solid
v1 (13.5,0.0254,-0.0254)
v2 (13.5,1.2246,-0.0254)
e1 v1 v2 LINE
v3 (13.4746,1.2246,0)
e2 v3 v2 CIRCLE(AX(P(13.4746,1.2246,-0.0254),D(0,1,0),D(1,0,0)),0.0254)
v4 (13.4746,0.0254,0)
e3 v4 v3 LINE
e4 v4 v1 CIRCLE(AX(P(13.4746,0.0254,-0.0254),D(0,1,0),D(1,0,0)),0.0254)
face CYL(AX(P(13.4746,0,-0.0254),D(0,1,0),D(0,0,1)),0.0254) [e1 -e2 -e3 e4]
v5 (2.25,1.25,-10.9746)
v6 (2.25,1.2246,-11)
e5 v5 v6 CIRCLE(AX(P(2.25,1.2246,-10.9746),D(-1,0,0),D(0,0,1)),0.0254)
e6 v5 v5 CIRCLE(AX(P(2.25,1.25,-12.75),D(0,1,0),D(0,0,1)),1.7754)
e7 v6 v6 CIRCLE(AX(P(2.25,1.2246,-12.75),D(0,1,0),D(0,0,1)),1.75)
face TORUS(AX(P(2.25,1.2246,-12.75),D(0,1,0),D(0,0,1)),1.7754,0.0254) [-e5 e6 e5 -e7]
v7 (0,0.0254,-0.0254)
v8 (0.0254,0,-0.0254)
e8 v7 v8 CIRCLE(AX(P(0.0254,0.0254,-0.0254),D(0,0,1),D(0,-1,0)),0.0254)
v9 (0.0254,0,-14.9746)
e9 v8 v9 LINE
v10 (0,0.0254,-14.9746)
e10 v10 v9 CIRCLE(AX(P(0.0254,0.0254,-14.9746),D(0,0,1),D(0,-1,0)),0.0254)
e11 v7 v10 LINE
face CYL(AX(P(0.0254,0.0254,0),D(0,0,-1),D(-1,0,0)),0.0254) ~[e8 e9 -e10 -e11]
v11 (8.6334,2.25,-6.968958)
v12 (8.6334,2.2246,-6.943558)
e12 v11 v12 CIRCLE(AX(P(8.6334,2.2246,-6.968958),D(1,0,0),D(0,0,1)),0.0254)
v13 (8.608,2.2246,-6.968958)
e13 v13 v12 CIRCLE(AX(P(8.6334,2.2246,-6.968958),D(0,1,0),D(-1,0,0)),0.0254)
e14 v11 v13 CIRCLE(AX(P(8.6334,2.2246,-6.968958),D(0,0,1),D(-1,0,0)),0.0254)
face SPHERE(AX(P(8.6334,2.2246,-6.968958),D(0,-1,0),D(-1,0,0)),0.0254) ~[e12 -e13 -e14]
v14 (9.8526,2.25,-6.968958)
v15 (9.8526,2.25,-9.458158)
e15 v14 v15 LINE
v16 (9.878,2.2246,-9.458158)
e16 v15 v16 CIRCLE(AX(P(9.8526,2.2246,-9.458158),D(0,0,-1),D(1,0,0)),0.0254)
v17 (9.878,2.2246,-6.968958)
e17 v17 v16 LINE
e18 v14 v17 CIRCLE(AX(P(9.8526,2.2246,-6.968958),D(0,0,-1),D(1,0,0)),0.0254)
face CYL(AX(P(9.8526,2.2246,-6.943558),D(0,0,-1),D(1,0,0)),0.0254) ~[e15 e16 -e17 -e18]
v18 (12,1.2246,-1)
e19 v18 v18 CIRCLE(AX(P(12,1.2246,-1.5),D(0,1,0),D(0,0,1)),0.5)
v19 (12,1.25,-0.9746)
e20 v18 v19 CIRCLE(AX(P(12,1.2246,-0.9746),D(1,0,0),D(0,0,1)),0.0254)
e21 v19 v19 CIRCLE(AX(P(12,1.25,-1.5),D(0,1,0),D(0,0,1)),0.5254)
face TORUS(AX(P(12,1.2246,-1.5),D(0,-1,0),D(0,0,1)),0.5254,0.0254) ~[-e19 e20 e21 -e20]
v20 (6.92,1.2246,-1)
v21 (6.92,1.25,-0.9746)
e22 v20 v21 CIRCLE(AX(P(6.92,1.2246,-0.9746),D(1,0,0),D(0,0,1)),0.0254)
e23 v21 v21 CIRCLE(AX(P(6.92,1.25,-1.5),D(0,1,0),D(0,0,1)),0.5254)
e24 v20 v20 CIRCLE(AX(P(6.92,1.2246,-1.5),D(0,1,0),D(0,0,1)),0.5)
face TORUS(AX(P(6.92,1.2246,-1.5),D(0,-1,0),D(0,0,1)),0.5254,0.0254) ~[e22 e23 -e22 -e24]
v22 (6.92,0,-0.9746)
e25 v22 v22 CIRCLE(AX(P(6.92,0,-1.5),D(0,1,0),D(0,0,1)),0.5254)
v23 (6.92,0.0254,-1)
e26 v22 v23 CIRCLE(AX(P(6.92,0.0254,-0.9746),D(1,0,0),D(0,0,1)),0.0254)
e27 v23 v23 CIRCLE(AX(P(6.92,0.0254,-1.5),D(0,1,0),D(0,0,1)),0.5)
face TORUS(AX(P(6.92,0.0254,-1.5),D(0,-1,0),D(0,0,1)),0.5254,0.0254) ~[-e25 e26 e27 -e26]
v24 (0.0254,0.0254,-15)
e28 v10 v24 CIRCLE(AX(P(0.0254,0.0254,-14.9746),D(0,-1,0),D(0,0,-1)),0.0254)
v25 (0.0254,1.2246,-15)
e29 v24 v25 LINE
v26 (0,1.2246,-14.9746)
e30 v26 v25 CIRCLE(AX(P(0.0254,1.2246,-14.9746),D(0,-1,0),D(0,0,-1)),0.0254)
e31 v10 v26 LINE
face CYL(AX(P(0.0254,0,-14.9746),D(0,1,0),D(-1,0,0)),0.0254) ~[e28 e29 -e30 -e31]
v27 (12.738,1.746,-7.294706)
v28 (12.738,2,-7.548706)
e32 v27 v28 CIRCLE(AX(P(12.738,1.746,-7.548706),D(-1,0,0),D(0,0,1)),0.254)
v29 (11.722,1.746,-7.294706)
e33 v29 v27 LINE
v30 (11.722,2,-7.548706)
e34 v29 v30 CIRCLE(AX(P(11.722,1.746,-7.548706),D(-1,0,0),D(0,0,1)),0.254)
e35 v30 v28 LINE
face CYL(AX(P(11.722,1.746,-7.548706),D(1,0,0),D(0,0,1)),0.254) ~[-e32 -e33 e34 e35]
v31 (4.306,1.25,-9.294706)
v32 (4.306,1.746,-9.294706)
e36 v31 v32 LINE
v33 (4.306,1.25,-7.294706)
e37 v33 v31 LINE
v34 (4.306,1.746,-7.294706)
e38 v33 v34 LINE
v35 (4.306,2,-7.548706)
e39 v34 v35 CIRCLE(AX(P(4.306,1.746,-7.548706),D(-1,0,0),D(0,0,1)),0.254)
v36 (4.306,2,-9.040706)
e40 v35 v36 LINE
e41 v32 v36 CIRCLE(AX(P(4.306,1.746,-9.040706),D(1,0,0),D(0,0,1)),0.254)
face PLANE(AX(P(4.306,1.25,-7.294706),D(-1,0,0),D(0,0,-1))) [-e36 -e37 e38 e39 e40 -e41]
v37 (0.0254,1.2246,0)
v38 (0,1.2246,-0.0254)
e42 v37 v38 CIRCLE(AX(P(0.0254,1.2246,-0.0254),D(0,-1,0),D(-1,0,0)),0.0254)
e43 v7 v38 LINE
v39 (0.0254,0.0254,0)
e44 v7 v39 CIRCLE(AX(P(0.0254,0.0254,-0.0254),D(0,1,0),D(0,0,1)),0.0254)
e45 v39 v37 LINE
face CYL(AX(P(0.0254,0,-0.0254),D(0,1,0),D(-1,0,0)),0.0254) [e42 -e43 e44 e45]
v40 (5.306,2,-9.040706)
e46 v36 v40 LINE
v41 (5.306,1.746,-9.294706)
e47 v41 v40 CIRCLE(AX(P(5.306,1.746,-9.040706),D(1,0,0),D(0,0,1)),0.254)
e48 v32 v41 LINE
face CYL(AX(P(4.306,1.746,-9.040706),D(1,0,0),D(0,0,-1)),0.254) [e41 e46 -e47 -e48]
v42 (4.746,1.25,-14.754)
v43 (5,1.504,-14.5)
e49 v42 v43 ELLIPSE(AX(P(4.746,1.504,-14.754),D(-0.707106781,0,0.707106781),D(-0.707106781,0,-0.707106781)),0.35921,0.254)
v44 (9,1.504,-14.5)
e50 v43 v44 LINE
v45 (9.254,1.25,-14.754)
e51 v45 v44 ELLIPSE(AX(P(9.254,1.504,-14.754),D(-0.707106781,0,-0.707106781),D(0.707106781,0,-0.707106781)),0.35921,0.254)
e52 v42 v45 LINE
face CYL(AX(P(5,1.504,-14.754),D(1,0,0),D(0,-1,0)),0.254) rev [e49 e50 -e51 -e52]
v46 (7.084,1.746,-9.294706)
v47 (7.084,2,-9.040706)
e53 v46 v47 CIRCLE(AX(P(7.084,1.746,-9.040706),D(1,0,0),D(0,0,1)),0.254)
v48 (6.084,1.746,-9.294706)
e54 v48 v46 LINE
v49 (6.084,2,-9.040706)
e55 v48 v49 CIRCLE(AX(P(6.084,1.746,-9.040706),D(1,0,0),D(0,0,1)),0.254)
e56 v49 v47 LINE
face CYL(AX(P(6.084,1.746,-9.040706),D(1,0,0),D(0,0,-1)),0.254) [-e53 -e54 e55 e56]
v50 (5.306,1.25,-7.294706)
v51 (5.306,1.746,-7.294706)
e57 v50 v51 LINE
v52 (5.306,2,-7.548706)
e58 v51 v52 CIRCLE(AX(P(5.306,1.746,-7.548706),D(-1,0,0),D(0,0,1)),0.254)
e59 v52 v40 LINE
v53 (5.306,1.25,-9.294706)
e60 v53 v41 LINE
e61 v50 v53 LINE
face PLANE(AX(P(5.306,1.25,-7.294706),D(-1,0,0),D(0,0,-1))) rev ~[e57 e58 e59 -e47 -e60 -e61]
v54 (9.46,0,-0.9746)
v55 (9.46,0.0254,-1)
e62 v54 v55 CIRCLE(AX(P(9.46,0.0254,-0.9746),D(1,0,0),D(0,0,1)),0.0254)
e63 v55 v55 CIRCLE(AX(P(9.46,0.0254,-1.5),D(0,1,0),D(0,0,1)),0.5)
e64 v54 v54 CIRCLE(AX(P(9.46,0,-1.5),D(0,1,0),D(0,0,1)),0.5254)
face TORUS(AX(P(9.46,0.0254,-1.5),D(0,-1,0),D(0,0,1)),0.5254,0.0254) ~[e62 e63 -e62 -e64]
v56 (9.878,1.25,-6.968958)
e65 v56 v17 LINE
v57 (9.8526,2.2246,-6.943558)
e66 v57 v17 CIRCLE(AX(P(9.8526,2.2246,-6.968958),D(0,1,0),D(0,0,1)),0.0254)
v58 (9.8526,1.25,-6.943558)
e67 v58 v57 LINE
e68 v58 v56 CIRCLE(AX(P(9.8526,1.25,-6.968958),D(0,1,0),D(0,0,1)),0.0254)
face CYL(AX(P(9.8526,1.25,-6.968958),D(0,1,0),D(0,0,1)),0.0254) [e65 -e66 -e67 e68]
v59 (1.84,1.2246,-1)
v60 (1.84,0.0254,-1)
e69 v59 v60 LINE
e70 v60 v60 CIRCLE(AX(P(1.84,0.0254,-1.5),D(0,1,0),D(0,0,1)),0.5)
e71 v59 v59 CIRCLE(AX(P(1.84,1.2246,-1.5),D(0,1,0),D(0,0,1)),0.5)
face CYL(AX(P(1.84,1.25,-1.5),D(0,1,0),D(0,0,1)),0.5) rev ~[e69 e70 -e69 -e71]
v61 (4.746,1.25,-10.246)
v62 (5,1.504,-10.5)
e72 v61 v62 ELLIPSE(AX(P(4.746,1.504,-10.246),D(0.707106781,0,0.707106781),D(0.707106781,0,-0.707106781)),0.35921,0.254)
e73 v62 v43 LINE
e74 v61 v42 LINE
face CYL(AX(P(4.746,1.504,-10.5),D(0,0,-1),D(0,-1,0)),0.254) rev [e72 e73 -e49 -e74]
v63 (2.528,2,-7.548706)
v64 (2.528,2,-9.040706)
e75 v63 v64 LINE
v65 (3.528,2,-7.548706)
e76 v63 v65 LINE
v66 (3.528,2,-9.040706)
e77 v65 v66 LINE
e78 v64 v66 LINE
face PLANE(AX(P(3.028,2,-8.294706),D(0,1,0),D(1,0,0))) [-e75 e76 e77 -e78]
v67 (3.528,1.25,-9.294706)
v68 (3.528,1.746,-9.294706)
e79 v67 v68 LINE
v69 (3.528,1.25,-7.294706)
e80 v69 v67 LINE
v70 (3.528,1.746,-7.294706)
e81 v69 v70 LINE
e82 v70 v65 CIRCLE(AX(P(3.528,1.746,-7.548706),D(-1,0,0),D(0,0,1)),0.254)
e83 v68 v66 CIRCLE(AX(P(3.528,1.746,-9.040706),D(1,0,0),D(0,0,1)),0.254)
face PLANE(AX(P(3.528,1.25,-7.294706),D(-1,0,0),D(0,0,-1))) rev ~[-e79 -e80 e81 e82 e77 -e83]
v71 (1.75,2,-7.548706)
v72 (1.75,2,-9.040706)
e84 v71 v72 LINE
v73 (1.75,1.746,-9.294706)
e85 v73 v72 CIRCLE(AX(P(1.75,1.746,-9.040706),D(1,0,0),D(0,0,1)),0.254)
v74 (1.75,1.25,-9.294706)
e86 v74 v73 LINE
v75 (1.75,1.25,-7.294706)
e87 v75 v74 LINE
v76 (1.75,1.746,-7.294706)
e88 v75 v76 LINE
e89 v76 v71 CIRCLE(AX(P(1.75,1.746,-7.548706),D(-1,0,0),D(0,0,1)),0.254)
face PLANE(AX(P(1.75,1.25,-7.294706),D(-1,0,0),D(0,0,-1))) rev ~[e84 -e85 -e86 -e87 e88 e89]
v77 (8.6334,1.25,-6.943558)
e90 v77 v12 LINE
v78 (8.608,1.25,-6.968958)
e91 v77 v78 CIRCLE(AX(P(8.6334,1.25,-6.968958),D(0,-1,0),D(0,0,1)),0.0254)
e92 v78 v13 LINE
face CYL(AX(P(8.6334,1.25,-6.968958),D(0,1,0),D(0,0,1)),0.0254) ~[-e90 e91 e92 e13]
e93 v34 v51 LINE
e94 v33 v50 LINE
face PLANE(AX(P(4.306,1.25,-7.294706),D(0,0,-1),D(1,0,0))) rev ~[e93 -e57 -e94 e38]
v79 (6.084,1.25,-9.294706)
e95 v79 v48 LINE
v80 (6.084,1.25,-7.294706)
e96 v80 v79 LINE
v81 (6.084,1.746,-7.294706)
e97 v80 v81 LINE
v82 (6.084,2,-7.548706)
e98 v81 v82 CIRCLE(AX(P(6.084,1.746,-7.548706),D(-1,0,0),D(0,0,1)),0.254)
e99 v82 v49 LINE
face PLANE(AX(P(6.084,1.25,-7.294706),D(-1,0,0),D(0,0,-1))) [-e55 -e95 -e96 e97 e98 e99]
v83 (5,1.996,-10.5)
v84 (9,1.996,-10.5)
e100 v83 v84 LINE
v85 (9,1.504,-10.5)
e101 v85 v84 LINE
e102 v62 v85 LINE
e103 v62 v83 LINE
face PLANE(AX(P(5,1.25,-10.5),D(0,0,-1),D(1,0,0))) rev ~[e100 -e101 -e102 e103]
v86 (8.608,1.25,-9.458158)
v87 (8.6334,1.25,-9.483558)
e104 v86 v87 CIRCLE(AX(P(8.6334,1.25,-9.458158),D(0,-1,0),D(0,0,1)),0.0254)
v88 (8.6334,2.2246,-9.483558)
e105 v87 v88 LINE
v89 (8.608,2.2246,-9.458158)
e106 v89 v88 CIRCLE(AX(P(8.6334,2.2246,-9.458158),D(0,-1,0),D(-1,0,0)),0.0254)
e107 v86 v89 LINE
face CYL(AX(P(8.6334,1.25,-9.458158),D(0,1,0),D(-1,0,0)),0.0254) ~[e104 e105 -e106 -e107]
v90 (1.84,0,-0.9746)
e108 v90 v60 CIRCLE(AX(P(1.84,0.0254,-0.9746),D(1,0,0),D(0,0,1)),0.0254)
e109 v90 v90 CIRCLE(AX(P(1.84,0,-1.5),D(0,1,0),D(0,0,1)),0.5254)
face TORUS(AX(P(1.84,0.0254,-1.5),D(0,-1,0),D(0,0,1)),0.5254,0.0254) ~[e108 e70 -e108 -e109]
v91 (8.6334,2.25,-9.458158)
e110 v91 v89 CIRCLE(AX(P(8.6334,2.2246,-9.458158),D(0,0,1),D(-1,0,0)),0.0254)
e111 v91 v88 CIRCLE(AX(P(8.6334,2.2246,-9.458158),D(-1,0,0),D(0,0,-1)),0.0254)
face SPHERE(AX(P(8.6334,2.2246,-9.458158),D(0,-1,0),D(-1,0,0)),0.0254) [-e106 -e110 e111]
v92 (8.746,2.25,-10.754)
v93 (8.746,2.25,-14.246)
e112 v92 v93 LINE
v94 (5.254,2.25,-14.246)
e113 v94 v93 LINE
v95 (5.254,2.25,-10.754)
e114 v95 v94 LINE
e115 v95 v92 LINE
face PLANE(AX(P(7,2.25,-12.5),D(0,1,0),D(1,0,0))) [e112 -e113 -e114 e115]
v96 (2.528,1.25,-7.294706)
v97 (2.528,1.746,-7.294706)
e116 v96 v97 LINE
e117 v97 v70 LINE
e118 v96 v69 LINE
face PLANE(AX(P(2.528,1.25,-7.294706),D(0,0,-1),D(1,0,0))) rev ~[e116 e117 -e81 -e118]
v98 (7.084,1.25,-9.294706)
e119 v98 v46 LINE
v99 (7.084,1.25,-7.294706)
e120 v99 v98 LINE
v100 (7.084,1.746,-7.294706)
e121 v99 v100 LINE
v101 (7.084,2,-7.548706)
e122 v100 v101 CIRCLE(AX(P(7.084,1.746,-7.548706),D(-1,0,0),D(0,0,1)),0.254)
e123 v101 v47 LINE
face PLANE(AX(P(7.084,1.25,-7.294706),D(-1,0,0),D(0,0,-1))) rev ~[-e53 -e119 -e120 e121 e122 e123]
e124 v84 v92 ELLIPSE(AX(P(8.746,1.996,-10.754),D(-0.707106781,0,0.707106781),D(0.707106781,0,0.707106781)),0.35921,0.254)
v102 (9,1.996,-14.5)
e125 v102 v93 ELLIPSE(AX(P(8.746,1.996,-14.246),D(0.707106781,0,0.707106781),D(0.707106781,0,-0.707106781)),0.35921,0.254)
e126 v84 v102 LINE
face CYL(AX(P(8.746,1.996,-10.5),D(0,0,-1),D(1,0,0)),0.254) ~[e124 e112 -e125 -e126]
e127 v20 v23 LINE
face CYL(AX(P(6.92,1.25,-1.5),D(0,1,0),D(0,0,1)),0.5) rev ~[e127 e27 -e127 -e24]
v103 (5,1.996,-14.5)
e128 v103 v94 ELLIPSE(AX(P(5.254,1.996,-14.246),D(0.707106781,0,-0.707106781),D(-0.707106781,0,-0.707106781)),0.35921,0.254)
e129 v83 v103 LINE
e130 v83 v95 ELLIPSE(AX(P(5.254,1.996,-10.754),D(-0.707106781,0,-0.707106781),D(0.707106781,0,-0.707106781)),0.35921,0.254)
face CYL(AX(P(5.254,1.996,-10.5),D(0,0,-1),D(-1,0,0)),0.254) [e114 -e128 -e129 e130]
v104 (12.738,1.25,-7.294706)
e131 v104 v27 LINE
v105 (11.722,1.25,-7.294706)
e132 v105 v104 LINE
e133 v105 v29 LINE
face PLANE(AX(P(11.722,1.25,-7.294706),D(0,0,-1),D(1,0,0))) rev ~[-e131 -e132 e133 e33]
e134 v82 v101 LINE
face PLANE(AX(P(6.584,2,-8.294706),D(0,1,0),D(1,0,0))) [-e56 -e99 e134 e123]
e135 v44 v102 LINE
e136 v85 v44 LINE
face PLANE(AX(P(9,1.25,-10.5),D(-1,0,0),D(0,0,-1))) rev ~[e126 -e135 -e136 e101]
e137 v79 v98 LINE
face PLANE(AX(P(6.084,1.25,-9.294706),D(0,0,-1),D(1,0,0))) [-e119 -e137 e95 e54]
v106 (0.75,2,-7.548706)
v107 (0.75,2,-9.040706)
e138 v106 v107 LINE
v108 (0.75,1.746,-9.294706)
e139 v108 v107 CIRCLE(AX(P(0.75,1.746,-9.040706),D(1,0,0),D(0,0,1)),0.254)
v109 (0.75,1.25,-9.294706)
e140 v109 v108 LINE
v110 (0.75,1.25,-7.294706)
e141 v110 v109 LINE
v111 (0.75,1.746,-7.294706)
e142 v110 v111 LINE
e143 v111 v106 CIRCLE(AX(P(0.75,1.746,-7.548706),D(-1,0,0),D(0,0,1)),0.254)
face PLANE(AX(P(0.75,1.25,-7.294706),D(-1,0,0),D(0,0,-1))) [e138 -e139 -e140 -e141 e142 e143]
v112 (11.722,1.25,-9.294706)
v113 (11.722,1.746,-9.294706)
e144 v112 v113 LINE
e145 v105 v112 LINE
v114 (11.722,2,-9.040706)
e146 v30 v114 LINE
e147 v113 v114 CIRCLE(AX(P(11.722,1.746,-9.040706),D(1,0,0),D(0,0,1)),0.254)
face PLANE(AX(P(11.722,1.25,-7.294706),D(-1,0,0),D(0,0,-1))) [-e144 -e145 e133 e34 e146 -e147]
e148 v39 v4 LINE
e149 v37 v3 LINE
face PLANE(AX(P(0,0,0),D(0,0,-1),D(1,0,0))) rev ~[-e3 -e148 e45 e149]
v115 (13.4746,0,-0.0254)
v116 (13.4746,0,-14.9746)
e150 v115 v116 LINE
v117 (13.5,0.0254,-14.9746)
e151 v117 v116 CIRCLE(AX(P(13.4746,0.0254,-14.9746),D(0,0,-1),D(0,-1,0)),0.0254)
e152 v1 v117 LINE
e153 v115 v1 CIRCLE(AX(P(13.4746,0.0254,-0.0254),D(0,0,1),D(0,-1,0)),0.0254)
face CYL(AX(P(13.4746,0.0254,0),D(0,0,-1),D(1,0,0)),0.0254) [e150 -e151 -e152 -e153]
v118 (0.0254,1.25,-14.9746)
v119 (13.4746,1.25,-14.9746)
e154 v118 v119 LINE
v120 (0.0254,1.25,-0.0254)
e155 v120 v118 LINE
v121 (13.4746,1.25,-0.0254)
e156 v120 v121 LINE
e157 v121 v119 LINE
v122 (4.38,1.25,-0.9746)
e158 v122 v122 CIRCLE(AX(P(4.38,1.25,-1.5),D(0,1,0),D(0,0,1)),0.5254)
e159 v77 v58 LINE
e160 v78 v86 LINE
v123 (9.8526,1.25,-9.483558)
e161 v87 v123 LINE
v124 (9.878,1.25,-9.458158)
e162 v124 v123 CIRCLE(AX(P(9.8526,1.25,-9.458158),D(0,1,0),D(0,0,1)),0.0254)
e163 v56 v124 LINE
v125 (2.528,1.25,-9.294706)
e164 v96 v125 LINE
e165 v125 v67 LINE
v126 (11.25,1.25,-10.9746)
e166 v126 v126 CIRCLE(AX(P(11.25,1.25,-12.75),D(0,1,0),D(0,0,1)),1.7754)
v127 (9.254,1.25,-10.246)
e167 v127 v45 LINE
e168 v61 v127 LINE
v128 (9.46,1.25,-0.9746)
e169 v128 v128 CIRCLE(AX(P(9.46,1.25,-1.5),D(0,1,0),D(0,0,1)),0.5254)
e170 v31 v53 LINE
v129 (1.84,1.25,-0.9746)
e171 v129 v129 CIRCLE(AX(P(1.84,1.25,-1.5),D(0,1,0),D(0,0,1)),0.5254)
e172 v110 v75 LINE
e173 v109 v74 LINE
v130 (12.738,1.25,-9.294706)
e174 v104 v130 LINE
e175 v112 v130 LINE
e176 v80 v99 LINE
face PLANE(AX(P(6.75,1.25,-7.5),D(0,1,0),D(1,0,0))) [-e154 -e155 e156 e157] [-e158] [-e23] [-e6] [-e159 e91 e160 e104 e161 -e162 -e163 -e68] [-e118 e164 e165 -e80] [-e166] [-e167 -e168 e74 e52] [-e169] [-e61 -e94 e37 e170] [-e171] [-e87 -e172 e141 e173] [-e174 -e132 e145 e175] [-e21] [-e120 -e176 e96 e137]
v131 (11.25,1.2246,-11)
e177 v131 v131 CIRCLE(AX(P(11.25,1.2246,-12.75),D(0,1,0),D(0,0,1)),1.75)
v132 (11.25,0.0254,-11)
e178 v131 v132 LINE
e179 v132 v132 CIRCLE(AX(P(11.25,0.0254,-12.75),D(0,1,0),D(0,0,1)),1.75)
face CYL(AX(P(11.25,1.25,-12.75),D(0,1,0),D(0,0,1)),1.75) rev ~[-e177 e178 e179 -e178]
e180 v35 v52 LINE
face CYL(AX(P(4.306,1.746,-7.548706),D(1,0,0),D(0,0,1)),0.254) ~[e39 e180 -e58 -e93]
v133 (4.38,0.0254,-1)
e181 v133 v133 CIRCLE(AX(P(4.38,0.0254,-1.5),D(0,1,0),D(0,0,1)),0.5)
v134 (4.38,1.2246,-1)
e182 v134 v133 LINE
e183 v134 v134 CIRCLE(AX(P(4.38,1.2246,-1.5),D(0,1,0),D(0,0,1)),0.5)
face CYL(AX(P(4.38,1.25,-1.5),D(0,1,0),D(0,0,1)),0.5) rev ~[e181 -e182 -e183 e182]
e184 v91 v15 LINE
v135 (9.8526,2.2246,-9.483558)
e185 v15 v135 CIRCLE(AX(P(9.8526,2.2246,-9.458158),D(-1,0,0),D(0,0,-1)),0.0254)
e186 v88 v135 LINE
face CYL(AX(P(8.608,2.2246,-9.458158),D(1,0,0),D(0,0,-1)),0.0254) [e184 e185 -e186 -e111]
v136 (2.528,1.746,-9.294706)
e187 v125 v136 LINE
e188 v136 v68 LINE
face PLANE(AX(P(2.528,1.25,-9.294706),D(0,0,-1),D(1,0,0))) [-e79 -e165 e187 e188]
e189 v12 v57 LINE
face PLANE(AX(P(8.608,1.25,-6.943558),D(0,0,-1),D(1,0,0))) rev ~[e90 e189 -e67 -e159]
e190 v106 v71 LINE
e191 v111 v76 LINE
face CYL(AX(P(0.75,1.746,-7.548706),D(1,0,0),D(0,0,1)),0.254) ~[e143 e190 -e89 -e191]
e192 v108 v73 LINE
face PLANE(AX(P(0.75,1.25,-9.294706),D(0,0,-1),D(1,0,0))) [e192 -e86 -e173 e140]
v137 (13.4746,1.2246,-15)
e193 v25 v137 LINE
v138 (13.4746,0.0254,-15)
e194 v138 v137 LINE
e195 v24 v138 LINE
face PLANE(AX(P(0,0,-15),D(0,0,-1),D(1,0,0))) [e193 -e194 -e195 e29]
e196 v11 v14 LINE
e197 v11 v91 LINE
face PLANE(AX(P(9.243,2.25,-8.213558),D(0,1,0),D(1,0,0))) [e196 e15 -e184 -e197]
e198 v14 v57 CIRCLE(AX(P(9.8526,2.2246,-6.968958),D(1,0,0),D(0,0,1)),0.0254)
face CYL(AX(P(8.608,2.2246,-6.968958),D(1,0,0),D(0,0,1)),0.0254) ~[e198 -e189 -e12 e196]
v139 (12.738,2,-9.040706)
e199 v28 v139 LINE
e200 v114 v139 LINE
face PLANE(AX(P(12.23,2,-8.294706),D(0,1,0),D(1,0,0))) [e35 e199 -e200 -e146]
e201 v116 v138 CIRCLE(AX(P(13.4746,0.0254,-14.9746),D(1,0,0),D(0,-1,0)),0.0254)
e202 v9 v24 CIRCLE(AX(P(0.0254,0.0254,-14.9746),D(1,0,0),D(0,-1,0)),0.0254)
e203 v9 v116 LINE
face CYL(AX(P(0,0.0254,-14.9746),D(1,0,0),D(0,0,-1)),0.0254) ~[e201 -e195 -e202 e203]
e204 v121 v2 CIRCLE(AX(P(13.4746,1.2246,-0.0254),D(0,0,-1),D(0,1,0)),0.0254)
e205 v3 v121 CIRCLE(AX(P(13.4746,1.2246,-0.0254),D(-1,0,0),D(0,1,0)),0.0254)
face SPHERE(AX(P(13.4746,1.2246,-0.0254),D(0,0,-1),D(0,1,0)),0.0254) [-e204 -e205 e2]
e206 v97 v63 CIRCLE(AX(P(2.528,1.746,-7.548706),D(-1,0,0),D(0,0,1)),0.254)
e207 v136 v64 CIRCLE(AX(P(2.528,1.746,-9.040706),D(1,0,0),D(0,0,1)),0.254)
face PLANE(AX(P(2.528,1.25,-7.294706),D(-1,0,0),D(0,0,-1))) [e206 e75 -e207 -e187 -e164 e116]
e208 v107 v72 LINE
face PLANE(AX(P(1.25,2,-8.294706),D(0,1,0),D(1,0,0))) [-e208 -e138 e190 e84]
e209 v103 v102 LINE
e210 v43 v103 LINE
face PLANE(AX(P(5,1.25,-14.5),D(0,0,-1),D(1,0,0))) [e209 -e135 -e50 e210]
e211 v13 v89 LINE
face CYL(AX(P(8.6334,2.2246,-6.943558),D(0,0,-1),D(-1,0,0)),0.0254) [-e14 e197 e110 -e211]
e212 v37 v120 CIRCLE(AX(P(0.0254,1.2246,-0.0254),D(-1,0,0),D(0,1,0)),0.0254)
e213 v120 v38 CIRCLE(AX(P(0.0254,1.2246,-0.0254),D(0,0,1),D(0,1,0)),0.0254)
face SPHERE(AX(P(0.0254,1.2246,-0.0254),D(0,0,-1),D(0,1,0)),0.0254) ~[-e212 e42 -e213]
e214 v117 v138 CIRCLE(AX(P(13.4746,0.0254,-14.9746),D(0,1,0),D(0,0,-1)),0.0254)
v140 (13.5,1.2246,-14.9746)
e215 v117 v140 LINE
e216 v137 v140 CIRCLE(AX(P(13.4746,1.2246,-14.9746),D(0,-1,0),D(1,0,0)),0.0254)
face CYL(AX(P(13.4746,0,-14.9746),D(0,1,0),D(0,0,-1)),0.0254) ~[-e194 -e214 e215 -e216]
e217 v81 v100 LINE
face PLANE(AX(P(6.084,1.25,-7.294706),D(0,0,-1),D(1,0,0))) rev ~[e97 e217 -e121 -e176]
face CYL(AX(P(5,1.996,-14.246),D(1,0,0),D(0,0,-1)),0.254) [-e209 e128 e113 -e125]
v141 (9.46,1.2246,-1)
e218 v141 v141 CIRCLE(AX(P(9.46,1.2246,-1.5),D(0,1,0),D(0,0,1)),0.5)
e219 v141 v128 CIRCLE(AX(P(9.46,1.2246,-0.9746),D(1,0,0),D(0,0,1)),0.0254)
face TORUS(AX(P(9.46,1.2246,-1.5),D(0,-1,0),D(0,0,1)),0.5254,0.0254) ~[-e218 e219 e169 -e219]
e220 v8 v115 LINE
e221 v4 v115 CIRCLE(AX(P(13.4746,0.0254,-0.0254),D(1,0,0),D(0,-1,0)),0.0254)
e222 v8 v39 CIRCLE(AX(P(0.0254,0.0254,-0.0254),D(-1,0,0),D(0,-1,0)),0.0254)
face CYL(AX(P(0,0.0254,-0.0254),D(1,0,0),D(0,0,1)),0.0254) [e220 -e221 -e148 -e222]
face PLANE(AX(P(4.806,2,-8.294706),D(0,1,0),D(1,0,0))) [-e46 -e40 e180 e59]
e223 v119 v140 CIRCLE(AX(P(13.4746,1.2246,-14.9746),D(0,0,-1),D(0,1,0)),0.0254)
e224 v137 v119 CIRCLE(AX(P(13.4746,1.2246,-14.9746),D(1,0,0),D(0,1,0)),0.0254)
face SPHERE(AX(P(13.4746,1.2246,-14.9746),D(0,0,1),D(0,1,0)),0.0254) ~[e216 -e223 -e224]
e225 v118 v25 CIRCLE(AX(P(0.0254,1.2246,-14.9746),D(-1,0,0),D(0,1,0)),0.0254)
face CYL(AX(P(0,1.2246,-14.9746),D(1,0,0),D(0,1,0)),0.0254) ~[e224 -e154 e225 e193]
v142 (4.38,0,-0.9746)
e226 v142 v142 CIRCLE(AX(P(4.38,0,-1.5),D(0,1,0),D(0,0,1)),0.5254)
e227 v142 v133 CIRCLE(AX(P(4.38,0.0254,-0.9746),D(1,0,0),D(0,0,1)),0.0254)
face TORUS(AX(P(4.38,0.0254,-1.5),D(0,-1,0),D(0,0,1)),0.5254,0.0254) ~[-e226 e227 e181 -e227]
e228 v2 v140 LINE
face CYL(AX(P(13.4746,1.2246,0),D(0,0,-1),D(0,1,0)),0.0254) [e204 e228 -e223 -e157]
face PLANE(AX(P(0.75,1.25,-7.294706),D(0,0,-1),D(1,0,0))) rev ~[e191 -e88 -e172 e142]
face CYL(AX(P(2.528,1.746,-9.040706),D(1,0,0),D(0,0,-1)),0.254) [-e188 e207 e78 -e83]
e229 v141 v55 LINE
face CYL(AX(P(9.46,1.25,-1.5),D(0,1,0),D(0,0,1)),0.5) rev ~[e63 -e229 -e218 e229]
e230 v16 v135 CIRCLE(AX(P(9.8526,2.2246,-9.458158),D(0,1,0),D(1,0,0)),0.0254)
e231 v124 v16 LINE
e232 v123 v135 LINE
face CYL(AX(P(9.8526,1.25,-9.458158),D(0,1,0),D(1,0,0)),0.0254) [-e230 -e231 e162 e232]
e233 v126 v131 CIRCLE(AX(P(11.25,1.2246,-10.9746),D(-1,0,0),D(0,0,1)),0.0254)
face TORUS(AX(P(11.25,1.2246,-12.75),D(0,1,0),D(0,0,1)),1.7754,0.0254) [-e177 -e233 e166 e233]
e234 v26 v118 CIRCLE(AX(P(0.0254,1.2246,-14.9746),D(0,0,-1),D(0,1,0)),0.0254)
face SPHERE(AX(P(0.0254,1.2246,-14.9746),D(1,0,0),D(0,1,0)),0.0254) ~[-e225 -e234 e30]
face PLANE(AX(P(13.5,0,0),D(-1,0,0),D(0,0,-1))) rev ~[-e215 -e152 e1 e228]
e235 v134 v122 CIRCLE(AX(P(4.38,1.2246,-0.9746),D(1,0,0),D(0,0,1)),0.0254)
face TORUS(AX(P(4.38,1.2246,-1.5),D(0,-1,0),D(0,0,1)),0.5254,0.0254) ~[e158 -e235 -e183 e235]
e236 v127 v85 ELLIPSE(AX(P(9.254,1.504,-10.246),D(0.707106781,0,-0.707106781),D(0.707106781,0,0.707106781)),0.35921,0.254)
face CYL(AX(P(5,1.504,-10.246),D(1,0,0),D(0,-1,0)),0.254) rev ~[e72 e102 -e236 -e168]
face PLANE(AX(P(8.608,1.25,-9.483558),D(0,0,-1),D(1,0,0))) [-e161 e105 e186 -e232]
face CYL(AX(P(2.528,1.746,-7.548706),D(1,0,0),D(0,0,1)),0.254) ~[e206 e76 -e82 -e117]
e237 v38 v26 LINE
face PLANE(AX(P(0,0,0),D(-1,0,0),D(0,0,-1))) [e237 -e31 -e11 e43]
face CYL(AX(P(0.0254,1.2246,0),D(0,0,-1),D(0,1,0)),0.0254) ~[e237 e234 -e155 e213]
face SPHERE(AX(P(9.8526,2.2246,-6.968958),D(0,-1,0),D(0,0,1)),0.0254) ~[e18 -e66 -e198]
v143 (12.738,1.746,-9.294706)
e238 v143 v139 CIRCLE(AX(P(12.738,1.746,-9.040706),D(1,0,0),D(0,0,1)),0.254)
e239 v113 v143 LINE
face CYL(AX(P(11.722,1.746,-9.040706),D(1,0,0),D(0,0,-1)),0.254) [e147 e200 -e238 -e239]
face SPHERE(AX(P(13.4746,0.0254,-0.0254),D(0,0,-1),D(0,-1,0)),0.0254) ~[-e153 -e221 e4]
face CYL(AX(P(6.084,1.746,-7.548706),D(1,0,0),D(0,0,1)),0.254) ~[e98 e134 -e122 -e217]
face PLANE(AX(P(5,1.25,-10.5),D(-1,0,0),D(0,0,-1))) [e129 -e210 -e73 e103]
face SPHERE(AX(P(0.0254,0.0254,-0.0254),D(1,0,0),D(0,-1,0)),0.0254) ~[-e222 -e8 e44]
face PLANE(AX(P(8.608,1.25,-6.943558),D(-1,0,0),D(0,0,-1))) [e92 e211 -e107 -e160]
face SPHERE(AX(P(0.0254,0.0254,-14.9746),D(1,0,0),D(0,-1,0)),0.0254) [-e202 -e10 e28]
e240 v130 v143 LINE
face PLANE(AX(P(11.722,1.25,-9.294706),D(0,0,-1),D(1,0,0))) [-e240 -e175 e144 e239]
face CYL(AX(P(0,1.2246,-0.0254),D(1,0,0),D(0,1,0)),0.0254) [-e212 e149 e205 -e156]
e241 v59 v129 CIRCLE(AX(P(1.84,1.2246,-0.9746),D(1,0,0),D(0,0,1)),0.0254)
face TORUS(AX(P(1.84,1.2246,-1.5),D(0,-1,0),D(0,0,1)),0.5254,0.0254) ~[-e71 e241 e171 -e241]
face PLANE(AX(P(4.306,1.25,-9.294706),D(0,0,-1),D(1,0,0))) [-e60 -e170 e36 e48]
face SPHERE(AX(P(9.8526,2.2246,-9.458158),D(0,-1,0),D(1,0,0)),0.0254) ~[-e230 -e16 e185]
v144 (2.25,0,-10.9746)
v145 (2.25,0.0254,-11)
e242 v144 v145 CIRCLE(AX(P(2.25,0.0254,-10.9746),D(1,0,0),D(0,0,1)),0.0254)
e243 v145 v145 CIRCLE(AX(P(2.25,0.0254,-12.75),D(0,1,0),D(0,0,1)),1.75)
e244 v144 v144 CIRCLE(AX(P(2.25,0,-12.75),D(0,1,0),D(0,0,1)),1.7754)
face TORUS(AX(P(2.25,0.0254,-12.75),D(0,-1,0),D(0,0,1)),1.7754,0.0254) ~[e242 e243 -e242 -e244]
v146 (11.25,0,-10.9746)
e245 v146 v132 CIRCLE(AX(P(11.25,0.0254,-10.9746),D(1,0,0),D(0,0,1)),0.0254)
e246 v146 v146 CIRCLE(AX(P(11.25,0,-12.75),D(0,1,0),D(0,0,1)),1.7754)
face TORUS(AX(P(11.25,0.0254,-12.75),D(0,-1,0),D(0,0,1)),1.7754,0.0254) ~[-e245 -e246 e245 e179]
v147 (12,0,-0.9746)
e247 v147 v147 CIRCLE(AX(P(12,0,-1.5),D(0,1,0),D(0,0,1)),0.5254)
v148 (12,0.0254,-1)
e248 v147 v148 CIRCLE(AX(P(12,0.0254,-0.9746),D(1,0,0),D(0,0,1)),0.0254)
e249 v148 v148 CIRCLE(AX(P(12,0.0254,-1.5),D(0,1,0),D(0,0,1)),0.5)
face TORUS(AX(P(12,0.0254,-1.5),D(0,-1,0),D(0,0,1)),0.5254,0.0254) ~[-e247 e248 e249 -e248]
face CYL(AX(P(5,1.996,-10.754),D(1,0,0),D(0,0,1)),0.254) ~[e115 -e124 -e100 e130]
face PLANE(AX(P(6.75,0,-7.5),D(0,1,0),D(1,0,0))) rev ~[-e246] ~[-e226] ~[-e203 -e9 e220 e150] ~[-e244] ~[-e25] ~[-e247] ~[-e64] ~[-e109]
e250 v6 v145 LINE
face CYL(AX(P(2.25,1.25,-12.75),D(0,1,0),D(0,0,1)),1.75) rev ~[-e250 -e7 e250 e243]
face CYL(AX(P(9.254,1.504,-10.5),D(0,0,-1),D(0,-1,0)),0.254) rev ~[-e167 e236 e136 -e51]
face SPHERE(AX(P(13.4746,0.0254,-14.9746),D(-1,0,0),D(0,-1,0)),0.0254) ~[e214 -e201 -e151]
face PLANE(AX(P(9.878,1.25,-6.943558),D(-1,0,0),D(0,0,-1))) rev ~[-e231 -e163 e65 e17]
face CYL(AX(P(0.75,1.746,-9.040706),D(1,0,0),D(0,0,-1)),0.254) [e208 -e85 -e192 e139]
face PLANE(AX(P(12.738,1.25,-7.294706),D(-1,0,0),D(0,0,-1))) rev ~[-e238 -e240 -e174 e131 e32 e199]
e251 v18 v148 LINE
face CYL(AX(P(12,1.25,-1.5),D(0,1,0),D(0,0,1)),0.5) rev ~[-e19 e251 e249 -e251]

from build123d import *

# Parameters (mm, degrees)
SKETCH1_W           = 13.5
SKETCH1_H           = 14.999999972
BOSS_EXTRUDE1_DEPTH = 1.25
SKETCH2_W           = 4
SKETCH2_H           = 4
BOSS_EXTRUDE2_DEPTH = 1
SKETCH3_R           = 1.750000056
CUT_EXTRUDE1_DEPTH  = 25.4
SKETCH4_W           = 1
SKETCH4_H           = 2
SKETCH4_W_2         = 1.016
BOSS_EXTRUDE4_DEPTH = 0.75
SKETCH5_W           = 1.27
SKETCH5_H           = 2.54
BOSS_EXTRUDE5_DEPTH = 1
SKETCH6_R           = 0.5
CUT_EXTRUDE2_DEPTH  = 25.4
FILLET1_R           = 0.0254
FILLET2_R           = 0.0254
FILLET3_R           = 0.254
FILLET4_R           = 0.254
FILLET5_R           = 0.0254
FILLET6_R           = 0.0254


with BuildPart() as part:
    # Sketch1 → Boss-Extrude1 (new body)
    with BuildSketch(Plane(origin=(0, 0, 0), x_dir=(1, 0, 0), z_dir=(0, 1, 0))):
        with Locations((6.75, 7.499999986)):
            Rectangle(SKETCH1_W, SKETCH1_H)
    extrude(amount=BOSS_EXTRUDE1_DEPTH)

    # Sketch2 → Boss-Extrude2 (add)
    with BuildSketch(Plane(origin=(0, 1.25, 0), x_dir=(1, 0, 0), z_dir=(0, 1, 0))):
        with Locations((7, 12.499999972)):
            Rectangle(SKETCH2_W, SKETCH2_H)
    extrude(amount=BOSS_EXTRUDE2_DEPTH)

    # Sketch3 → Cut-Extrude1 (cut)
    with BuildSketch(Plane(origin=(0, 1.25, 0), x_dir=(1, 0, 0), z_dir=(0, 1, 0))):
        with Locations(Location((11.249999928, 12.749999972, 0), (0, 0, 270))):
            Circle(SKETCH3_R)
        with Locations(Location((2.25, 12.749999972, 0), (0, 0, 270))):
            Circle(SKETCH3_R)
    extrude(amount=-CUT_EXTRUDE1_DEPTH, mode=Mode.SUBTRACT)

    # Sketch4 → Boss-Extrude4 (add)
    with BuildSketch(Plane(origin=(0, 1.25, 0), x_dir=(1, 0, 0), z_dir=(0, 1, 0))):
        with Locations((1.25, 8.294706363)):
            Rectangle(SKETCH4_W, SKETCH4_H)
        with Locations((3.028, 8.294706363)):
            Rectangle(SKETCH4_W, SKETCH4_H)
        with Locations((4.806, 8.294706363)):
            Rectangle(SKETCH4_W, SKETCH4_H)
        with Locations((6.584, 8.294706363)):
            Rectangle(SKETCH4_W, SKETCH4_H)
        with Locations((12.23, 8.294706363)):
            Rectangle(SKETCH4_W_2, SKETCH4_H)
    extrude(amount=BOSS_EXTRUDE4_DEPTH)

    # Sketch5 → Boss-Extrude5 (add)
    with BuildSketch(Plane(origin=(0, 1.25, 0), x_dir=(1, 0, 0), z_dir=(0, 1, 0))):
        with Locations((9.243, 8.213557621)):
            Rectangle(SKETCH5_W, SKETCH5_H)
    extrude(amount=BOSS_EXTRUDE5_DEPTH)

    # Sketch6 → Cut-Extrude2 (cut)
    with BuildSketch(Plane(origin=(0, 1.25, 0), x_dir=(1, 0, 0), z_dir=(0, 1, 0))):
        with Locations(Location((12, 1.5, 0), (0, 0, 270))):
            Circle(SKETCH6_R)
        with Locations(Location((9.46, 1.5, 0), (0, 0, 270))):
            Circle(SKETCH6_R)
        with Locations(Location((6.92, 1.5, 0), (0, 0, 270))):
            Circle(SKETCH6_R)
        with Locations(Location((4.38, 1.5, 0), (0, 0, 270))):
            Circle(SKETCH6_R)
        with Locations(Location((1.84, 1.5, 0), (0, 0, 270))):
            Circle(SKETCH6_R)
    extrude(amount=-CUT_EXTRUDE2_DEPTH, mode=Mode.SUBTRACT)

    # Fillet1
    fillet1_edges = [part.edges().sort_by_distance(p)[0] for p in [
        (11.249999928, 0, -14.500000028),
        (11.249999928, 1.25, -14.500000028),
        (2.25, 0, -14.500000028),
        (2.25, 1.25, -14.500000028),
    ]]
    fillet(fillet1_edges, radius=FILLET1_R)

    # Fillet2
    fillet2_edges = [part.edges().sort_by_distance(p)[0] for p in [
        (12, 0, -2),
        (12, 1.25, -2),
        (9.46, 0, -2),
        (9.46, 1.25, -2),
        (6.92, 0, -2),
        (6.92, 1.25, -2),
        (4.38, 0, -2),
        (4.38, 1.25, -2),
        (1.84, 0, -2),
        (1.84, 1.25, -2),
    ]]
    fillet(fillet2_edges, radius=FILLET2_R)

    # Fillet3
    fillet3_edges = [part.edges().sort_by_distance(p)[0] for p in [
        (1.25, 2, -7.294706363),
        (1.25, 2, -9.294706363),
        (12.23, 2, -7.294706363),
        (12.23, 2, -9.294706363),
        (3.028, 2, -7.294706363),
        (3.028, 2, -9.294706363),
        (4.806, 2, -7.294706363),
        (4.806, 2, -9.294706363),
        (6.584, 2, -7.294706363),
        (6.584, 2, -9.294706363),
    ]]
    fillet(fillet3_edges, radius=FILLET3_R)

    # Fillet4
    fillet4_edges = [part.edges().sort_by_distance(p)[0] for p in [
        (5, 1.25, -12.499999972),
        (7, 1.25, -10.499999972),
        (9, 1.25, -12.499999972),
        (7, 1.25, -14.499999972),
        (5, 2.25, -12.499999972),
        (7, 2.25, -10.499999972),
        (9, 2.25, -12.499999972),
        (7, 2.25, -14.499999972),
    ]]
    fillet(fillet4_edges, radius=FILLET4_R)

    # Fillet5
    fillet5_edges = [part.edges().sort_by_distance(p)[0] for p in [
        (8.608, 1.75, -9.483557621),
        (8.608, 1.75, -6.943557621),
        (9.878, 1.75, -6.943557621),
        (9.878, 1.75, -9.483557621),
        (8.608, 2.25, -8.213557621),
        (9.243, 2.25, -6.943557621),
        (9.878, 2.25, -8.213557621),
        (9.243, 2.25, -9.483557621),
    ]]
    fillet(fillet5_edges, radius=FILLET5_R)

    # Fillet6
    fillet6_edges = [part.edges().sort_by_distance(p)[0] for p in [
        (13.5, 1.25, -7.499999986),
        (6.75, 1.25, -14.999999972),
        (0, 1.25, -7.499999986),
        (6.75, 0, -14.999999972),
        (13.5, 0, -7.499999986),
        (6.75, 0, 0),
        (0, 0, -7.499999986),
        (6.75, 1.25, 0),
        (0, 0.625, -14.999999972),
        (13.5, 0.625, -14.999999972),
        (13.5, 0.625, 0),
        (0, 0.625, 0),
    ]]
    fillet(fillet6_edges, radius=FILLET6_R)


solid = part.part
